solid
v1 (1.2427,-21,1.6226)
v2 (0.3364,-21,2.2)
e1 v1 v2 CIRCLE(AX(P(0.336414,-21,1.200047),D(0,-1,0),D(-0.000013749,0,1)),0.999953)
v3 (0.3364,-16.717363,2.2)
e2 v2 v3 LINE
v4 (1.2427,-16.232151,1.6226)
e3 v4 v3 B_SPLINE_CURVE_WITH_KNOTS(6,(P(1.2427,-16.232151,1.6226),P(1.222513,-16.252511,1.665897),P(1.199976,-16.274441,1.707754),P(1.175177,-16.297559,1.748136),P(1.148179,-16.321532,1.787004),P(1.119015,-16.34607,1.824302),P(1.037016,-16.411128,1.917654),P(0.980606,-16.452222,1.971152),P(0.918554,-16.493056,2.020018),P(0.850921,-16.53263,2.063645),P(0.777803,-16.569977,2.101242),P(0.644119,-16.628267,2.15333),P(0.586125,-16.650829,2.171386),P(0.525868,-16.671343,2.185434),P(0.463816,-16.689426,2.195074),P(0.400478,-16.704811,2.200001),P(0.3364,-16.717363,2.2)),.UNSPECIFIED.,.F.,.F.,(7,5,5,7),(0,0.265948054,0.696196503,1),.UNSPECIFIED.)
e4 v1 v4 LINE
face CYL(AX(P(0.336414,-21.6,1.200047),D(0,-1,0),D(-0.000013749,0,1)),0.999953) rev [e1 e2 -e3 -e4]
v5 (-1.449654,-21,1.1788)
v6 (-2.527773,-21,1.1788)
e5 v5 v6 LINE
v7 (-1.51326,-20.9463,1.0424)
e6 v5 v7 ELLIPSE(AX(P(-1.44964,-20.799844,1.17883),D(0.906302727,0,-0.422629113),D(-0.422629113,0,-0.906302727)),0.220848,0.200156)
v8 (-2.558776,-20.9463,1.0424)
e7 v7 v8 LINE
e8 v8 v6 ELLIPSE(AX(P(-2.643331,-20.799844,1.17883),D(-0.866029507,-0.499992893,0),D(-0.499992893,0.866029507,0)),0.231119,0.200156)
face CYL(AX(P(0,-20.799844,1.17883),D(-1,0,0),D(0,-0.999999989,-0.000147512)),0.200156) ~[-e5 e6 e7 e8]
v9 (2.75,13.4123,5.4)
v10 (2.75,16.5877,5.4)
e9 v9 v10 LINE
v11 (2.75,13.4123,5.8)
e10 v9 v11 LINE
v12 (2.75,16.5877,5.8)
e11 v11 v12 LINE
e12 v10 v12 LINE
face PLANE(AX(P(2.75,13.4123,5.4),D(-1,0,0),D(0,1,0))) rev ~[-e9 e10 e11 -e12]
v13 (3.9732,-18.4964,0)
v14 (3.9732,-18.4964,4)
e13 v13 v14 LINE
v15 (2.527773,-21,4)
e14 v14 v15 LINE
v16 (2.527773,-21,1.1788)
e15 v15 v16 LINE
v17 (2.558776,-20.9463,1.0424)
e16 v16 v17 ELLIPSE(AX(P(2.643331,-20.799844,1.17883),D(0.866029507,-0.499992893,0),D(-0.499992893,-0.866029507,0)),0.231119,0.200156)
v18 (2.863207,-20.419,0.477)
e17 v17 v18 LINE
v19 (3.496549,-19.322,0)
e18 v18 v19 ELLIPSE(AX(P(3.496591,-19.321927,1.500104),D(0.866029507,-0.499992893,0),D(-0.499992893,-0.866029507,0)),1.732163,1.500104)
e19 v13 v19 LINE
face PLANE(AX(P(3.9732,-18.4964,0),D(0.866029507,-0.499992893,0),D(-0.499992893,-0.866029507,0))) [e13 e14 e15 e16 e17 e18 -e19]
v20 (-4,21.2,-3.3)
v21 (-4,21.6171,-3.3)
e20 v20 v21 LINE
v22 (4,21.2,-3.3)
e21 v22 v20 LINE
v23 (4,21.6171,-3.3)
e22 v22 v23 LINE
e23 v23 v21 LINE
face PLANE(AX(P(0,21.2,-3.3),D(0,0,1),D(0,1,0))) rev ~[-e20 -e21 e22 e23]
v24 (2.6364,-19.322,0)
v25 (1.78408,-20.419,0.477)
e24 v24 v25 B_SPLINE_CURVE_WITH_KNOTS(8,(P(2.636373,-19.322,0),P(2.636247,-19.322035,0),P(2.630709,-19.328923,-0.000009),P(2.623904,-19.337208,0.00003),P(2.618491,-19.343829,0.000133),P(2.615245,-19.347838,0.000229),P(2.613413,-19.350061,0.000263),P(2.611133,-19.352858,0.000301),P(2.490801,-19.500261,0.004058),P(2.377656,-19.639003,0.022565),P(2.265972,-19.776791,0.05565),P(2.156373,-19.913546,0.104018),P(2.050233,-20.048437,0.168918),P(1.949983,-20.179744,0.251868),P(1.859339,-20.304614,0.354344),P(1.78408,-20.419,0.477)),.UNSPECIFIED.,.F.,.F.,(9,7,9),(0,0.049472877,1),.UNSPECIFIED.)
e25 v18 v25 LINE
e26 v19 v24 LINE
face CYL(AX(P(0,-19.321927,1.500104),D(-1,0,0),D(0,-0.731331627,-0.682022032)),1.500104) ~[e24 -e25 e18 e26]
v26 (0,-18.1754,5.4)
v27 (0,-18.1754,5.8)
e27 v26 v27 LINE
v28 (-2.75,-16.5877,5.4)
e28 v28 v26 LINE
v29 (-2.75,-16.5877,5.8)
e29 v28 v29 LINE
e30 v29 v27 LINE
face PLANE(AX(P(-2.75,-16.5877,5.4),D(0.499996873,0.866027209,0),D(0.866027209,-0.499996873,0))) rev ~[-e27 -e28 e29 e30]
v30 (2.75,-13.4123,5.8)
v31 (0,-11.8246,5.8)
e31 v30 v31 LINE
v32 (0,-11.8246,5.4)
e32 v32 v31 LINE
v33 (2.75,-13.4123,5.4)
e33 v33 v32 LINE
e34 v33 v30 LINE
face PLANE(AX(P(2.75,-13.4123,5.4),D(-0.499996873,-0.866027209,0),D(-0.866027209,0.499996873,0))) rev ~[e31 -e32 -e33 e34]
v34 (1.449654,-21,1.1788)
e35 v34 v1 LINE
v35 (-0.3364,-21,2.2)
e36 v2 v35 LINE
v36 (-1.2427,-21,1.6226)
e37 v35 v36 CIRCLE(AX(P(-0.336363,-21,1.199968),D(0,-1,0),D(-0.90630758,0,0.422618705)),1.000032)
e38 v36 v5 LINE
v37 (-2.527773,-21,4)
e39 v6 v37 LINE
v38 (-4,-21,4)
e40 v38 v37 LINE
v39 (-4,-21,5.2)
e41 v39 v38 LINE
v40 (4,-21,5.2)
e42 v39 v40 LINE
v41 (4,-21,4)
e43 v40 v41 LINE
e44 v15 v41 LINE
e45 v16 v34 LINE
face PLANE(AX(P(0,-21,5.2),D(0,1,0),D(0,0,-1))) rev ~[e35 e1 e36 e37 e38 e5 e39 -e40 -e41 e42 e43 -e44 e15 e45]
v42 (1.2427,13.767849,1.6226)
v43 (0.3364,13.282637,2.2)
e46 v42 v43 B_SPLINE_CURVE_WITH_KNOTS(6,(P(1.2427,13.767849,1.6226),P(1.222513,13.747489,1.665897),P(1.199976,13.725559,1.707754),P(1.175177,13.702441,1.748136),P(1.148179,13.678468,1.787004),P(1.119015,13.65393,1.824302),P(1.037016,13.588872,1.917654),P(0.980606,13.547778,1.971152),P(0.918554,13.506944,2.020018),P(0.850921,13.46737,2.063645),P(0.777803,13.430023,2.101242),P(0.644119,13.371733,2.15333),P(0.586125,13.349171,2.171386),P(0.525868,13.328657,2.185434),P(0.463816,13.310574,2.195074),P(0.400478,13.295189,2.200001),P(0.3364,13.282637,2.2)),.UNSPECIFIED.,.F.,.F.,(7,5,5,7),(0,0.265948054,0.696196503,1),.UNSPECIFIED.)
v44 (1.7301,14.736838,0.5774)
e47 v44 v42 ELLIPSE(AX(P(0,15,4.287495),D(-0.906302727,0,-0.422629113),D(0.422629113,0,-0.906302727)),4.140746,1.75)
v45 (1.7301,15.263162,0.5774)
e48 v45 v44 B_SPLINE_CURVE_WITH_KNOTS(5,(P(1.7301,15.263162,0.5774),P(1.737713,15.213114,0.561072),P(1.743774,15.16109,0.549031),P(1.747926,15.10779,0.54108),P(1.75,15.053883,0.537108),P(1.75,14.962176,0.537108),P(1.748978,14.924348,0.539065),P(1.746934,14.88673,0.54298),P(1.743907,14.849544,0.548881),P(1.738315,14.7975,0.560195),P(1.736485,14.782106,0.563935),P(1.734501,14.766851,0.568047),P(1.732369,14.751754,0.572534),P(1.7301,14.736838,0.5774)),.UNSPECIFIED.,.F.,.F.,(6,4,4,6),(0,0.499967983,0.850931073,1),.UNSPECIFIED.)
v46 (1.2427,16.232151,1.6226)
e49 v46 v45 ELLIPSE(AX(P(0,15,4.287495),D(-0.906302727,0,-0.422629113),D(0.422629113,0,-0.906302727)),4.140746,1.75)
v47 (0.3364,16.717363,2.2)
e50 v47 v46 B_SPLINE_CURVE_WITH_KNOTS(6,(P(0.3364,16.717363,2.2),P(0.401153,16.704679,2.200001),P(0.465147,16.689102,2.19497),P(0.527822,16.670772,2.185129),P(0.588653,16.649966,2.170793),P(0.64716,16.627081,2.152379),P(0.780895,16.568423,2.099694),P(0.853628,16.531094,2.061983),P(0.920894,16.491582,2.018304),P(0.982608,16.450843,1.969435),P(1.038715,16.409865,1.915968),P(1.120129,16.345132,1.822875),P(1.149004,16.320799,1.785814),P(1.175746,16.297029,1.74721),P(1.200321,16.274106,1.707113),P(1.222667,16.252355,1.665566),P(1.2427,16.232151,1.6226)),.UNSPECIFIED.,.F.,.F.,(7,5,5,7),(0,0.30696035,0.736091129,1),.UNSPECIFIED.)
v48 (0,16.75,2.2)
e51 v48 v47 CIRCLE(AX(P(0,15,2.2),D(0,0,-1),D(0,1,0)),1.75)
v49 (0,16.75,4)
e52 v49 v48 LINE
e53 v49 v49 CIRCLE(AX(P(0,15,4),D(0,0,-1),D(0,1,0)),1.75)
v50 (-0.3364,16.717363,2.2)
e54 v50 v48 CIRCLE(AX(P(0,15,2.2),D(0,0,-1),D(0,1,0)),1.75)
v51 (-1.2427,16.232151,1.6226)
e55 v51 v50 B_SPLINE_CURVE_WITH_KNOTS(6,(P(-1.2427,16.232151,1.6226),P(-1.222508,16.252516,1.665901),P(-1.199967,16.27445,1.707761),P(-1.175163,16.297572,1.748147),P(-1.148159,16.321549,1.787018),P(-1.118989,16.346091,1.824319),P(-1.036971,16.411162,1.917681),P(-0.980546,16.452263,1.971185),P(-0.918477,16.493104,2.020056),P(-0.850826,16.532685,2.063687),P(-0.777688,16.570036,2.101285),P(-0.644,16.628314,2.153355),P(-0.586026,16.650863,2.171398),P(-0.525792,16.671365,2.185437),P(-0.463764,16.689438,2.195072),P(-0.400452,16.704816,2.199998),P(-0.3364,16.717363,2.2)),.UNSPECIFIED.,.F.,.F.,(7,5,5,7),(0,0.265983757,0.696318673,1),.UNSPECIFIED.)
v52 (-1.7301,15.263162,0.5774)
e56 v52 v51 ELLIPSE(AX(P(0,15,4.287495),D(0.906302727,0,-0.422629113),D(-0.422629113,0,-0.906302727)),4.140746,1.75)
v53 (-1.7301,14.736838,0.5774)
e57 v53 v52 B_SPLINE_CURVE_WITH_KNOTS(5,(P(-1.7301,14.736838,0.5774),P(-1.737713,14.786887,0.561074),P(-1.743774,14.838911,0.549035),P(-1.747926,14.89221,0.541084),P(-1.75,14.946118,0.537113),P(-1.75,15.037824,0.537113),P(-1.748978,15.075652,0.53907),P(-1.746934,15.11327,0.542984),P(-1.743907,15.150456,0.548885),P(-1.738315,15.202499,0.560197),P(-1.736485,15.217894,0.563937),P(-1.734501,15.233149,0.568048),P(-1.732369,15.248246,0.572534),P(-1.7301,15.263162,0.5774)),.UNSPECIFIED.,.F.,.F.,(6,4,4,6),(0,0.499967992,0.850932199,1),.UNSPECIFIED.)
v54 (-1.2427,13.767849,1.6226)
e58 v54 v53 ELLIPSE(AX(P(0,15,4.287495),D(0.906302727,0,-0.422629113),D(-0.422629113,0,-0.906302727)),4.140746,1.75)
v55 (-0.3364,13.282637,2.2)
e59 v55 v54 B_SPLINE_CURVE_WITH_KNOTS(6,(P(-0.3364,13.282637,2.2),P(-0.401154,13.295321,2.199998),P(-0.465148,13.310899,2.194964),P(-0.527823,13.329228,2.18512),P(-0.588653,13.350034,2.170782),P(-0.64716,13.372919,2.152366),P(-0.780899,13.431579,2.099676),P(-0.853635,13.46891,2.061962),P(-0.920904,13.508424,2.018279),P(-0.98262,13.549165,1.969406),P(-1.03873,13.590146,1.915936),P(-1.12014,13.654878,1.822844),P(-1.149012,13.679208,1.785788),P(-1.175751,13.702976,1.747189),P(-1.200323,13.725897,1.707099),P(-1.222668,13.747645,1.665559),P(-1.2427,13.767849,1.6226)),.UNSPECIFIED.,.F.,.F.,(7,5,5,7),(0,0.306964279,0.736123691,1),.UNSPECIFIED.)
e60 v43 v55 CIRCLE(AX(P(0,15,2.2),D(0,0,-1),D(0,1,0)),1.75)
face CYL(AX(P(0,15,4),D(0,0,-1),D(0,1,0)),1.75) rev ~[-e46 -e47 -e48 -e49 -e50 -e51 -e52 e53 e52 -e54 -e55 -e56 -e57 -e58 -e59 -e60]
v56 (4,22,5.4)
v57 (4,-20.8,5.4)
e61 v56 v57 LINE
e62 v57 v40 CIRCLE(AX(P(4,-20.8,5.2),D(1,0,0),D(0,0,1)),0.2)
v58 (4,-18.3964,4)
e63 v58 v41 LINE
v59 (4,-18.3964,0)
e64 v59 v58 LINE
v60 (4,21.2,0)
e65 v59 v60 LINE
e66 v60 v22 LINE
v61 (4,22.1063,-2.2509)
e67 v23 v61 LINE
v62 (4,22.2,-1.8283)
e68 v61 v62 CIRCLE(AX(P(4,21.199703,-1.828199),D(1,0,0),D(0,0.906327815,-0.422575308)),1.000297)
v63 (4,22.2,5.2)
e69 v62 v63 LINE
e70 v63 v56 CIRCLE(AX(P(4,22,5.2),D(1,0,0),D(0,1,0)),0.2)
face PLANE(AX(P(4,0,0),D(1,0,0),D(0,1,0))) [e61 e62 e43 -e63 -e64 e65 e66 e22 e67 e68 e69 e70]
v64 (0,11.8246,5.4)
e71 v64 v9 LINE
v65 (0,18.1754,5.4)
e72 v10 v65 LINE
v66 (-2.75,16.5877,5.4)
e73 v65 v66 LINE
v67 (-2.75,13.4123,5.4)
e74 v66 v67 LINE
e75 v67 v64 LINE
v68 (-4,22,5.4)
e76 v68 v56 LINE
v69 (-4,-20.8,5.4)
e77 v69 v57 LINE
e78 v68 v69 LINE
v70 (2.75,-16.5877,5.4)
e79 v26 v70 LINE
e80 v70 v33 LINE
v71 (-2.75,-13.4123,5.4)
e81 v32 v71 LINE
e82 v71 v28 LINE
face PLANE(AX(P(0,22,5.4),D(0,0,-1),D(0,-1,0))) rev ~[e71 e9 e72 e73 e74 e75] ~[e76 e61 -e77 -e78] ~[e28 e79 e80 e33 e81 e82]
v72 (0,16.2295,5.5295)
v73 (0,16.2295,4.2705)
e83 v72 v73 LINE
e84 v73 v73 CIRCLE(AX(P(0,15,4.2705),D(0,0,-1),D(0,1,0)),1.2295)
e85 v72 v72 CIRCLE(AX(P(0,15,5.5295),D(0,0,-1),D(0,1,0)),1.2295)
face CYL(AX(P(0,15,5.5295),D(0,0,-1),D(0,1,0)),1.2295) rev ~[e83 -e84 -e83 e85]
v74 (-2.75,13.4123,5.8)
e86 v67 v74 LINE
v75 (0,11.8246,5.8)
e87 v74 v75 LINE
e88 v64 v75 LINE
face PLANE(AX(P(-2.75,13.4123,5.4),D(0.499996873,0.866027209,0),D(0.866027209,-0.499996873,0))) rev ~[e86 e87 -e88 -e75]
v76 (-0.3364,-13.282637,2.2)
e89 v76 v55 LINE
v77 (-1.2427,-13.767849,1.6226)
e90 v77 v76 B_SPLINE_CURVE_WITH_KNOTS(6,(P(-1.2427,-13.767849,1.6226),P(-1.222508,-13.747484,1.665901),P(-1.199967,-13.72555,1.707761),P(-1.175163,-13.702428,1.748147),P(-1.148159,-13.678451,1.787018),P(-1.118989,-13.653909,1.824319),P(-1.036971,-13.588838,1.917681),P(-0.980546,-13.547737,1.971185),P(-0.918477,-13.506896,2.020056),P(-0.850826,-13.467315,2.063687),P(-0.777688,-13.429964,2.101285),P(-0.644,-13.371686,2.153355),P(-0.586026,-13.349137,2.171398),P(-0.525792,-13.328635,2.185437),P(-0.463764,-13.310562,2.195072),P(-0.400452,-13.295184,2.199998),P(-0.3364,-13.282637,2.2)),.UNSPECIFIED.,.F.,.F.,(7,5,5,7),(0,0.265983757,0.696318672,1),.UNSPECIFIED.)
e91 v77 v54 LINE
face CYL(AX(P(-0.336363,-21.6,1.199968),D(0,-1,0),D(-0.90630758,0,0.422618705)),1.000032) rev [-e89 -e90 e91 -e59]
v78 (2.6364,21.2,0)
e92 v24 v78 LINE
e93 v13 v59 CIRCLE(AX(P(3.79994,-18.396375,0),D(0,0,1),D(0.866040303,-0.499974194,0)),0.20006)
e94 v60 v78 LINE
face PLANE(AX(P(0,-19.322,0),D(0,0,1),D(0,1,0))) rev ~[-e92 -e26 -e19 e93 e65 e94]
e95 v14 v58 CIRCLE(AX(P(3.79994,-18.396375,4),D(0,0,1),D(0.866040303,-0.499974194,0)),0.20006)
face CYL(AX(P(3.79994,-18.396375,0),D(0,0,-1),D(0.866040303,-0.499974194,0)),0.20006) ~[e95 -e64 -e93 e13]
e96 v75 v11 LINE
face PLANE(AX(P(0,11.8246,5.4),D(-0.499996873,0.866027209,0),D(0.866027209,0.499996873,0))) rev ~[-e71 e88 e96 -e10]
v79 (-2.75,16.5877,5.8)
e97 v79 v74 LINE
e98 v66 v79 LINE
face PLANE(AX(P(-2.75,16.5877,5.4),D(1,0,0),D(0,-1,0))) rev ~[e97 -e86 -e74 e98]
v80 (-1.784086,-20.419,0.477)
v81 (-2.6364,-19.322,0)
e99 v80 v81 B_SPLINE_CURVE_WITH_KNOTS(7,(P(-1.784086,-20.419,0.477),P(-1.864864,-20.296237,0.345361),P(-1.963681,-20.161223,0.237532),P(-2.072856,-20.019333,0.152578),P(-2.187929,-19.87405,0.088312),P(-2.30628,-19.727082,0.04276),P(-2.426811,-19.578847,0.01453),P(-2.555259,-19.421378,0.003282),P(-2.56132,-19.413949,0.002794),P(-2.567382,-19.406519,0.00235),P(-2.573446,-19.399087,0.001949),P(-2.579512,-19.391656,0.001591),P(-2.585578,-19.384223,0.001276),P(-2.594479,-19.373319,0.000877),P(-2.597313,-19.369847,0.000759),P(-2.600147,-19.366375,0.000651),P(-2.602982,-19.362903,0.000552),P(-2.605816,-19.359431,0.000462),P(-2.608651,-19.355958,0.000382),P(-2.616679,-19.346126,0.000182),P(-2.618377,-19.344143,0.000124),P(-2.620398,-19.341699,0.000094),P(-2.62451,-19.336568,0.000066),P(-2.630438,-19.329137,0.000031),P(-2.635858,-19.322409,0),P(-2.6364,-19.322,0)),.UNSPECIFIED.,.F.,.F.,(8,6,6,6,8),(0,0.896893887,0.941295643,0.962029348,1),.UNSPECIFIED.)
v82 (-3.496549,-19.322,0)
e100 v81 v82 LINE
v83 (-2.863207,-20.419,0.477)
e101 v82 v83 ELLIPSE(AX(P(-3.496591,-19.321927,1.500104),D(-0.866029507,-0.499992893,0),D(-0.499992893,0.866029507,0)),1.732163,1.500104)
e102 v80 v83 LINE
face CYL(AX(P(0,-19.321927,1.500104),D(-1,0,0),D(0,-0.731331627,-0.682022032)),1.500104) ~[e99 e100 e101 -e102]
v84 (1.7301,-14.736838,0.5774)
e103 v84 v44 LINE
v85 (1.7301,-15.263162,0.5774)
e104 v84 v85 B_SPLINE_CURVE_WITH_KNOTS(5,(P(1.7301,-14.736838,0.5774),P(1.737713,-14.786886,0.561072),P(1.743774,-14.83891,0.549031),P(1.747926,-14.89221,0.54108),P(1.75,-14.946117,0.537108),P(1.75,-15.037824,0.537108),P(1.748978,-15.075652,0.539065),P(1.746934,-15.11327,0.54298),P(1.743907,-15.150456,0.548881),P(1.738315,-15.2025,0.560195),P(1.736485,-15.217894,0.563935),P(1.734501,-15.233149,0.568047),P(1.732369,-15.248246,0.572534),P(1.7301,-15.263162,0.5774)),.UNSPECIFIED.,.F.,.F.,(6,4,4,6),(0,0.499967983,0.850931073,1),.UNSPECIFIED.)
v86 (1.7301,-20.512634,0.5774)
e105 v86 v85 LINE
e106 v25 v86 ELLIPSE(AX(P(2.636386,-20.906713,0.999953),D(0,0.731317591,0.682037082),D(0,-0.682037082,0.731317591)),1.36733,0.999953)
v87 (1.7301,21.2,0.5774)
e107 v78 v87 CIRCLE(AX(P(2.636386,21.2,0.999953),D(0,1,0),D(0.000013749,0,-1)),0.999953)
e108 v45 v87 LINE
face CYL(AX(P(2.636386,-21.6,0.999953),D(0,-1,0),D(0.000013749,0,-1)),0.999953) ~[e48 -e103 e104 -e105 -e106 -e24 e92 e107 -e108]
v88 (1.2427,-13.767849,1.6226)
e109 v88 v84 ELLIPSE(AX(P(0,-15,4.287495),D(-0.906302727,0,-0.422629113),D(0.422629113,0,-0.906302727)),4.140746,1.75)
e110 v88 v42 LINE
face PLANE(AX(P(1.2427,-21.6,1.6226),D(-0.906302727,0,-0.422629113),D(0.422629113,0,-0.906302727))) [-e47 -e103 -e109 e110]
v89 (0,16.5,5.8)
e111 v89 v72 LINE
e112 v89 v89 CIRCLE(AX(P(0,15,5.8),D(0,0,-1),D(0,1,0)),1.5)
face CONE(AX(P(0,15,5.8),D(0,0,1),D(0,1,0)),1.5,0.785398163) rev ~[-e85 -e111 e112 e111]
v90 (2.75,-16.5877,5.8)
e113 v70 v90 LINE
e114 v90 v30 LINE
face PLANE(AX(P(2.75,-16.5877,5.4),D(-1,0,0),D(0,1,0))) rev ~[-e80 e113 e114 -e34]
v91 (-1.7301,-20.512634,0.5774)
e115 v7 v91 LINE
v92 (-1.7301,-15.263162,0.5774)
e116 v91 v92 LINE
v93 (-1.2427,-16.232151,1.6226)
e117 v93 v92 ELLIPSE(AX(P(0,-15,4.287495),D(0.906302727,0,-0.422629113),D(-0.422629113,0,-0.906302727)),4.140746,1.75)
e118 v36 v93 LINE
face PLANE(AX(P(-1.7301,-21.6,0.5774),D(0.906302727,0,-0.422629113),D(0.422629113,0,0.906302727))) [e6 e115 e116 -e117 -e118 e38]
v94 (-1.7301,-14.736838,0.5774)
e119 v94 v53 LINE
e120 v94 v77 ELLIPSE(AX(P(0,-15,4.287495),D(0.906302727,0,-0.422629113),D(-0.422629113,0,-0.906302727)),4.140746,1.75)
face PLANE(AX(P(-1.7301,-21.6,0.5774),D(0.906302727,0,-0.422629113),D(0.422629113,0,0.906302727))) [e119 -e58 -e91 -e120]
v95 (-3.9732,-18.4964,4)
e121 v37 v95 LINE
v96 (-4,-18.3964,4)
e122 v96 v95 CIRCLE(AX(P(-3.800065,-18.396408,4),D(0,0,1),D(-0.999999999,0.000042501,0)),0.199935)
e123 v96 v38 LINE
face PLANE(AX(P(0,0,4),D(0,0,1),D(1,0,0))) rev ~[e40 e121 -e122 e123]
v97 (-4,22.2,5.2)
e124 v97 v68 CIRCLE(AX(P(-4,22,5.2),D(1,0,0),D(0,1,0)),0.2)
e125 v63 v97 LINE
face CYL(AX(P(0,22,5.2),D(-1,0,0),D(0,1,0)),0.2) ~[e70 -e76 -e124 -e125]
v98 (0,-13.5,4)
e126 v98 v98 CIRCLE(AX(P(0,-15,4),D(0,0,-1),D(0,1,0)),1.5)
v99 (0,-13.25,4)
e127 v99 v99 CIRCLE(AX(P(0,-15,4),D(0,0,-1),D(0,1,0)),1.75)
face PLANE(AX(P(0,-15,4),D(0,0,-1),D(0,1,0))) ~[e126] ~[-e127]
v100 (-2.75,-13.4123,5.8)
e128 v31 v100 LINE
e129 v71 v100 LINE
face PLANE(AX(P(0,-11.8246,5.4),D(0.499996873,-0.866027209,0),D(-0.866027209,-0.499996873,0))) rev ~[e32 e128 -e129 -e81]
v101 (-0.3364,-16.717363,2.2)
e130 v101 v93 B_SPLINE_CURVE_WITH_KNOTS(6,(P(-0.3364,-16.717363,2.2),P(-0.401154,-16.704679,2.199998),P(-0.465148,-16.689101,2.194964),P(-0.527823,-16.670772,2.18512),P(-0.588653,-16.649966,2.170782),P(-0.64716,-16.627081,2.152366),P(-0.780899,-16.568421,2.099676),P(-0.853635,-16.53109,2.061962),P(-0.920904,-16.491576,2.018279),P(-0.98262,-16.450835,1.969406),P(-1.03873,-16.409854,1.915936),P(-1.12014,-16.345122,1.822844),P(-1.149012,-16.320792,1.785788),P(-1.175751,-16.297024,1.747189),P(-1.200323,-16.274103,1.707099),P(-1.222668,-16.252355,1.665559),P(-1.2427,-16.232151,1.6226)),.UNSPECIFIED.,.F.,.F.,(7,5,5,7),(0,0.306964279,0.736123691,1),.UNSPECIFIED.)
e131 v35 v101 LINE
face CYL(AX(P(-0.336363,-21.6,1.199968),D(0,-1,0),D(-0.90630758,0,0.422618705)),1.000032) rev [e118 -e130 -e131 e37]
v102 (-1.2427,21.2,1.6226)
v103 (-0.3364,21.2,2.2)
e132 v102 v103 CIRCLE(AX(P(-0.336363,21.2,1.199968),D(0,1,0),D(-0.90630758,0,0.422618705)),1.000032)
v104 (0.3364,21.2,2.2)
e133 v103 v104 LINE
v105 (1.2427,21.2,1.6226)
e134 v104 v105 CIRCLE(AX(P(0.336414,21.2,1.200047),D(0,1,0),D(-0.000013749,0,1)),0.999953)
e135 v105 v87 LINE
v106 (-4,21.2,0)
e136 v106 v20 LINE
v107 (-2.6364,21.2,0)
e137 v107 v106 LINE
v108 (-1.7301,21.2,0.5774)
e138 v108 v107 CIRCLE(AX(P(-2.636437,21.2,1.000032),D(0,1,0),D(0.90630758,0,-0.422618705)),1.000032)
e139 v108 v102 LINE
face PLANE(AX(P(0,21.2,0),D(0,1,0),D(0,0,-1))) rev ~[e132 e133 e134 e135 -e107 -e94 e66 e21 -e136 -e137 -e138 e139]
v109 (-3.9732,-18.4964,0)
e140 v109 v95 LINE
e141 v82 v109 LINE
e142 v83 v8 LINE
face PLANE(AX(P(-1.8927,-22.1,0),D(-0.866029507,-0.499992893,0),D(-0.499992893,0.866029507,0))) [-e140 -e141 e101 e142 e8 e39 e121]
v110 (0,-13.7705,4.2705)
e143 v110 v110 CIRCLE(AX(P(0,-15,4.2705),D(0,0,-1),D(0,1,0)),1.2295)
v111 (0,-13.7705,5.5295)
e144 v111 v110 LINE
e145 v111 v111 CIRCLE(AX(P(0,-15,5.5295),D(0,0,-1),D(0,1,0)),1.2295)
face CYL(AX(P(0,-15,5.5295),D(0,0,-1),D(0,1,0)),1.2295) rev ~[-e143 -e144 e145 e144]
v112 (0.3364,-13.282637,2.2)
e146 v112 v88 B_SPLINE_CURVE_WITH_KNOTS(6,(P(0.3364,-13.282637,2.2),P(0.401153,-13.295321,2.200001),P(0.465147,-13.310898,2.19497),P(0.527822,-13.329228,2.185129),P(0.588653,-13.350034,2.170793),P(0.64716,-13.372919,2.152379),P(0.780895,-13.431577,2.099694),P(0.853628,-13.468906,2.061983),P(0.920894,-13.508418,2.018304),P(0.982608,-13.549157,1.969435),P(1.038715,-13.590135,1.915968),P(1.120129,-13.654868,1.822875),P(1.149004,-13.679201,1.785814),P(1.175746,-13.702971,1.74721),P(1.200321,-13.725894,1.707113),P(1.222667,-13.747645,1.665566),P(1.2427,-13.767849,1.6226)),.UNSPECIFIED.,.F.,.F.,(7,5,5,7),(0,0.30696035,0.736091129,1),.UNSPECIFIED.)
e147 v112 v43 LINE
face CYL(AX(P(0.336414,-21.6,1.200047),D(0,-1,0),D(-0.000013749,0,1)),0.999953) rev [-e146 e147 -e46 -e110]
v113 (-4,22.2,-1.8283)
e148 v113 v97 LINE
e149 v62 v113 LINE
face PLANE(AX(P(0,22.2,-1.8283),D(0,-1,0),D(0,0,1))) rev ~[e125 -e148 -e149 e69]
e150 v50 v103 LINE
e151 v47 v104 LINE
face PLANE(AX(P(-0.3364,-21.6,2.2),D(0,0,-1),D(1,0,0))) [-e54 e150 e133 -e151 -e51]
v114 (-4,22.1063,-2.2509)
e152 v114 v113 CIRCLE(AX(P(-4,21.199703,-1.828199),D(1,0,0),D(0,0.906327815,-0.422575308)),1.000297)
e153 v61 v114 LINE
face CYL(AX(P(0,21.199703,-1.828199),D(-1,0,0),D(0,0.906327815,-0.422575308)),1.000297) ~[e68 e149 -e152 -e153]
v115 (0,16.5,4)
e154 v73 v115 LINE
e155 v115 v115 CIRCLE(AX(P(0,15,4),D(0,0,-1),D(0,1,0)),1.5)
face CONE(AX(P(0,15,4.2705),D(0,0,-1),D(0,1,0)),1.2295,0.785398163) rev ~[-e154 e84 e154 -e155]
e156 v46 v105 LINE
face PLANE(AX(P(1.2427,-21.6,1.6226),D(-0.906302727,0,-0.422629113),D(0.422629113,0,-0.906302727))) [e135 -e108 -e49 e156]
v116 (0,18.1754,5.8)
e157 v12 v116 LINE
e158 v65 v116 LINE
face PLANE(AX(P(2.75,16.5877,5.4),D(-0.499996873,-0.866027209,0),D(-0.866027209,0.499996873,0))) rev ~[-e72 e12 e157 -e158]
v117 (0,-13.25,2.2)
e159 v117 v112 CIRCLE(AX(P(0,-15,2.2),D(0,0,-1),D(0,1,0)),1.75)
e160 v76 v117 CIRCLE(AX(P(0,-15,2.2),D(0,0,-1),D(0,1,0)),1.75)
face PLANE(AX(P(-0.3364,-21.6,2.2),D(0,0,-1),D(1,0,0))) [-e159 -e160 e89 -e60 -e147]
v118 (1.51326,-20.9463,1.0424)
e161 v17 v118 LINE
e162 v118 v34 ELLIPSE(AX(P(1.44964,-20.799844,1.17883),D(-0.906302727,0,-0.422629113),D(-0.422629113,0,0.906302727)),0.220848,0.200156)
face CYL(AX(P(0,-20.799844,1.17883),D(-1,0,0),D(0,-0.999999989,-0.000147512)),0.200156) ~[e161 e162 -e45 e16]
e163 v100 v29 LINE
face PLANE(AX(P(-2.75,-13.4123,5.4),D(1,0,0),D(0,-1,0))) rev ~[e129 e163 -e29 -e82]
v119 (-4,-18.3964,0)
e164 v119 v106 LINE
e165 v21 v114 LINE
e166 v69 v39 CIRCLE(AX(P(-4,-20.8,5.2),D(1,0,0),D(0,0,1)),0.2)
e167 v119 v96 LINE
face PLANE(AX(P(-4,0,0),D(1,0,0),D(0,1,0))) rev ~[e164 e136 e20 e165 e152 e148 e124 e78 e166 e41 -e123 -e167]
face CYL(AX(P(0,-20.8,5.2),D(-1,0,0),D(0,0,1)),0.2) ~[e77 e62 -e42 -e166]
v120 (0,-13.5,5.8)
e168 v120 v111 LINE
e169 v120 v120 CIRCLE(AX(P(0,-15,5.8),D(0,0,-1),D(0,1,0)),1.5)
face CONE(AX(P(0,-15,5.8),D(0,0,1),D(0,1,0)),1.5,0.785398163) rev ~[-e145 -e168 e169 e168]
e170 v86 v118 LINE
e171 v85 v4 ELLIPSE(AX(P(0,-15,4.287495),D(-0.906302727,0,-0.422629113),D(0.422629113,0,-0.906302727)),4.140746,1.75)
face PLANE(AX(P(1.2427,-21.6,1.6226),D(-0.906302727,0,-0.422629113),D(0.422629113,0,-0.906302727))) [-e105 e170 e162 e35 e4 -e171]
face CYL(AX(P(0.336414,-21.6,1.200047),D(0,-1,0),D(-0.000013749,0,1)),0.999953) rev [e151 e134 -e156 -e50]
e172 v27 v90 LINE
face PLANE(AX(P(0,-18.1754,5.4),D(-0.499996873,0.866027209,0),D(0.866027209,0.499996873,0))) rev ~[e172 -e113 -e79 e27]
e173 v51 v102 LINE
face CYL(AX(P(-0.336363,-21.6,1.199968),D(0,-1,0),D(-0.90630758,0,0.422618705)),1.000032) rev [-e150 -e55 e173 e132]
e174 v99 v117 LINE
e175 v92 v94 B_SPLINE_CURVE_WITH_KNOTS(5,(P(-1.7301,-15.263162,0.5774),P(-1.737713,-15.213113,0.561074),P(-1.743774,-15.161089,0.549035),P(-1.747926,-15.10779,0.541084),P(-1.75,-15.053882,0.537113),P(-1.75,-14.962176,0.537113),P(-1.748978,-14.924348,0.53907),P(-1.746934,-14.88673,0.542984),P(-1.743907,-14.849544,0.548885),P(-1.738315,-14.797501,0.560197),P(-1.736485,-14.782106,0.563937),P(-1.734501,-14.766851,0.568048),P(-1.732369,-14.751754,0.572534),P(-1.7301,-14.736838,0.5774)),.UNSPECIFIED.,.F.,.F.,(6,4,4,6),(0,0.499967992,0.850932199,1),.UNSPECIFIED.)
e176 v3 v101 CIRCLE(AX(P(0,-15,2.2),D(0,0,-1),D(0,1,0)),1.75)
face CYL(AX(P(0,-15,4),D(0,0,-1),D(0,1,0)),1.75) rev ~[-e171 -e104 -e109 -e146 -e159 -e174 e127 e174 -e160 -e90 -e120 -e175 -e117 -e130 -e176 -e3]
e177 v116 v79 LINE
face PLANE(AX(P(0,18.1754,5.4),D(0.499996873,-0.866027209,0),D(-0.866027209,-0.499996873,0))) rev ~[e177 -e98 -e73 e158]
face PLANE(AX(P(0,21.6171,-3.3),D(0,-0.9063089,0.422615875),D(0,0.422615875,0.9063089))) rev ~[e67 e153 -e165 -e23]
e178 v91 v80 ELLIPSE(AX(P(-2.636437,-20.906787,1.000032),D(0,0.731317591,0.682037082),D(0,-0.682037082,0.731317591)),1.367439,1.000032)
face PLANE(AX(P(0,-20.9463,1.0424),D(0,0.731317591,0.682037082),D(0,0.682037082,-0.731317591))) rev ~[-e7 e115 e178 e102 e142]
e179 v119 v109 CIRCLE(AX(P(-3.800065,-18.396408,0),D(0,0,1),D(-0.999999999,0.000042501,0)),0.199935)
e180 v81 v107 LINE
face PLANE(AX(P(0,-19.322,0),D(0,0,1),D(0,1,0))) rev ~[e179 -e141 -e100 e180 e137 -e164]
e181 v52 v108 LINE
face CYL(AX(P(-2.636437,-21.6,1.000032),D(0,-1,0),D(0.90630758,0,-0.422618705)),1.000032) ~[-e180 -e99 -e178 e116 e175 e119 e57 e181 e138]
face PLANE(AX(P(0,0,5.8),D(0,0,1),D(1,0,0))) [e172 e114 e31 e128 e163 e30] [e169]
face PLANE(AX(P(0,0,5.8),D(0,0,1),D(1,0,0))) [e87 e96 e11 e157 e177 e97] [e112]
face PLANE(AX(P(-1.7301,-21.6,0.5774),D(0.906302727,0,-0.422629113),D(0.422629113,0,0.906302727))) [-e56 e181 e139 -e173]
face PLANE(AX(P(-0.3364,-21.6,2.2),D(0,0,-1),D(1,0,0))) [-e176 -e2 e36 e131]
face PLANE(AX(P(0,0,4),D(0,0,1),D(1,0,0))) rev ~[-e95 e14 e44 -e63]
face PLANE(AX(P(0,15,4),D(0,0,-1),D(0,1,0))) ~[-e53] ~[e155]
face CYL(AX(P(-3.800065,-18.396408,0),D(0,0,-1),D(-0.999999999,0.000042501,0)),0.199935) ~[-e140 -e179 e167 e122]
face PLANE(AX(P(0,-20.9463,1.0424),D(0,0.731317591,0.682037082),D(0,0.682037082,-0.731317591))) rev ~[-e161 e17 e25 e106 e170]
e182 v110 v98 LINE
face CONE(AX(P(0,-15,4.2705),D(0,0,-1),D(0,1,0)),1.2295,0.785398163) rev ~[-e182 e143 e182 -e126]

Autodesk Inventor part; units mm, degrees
sketch "Sketch_1" plane through (0, 0, 0) normal (1, 0, 0) x (0, 1, 0)
  line L0 (22, 5.4) -> (-20.8, 5.4)
  arc A0 (-20.8, 5.4) -> (-21, 5.2) centre (-20.8, 5.2) ccw
  line L1 (-21, 5.2) -> (-21, 1.1788)
  arc A1 (-21, 1.1788) -> (-20.9463, 1.0424) centre (-20.8, 1.1788) ccw
  line L2 (-20.9463, 1.0424) -> (-20.419, 0.477)
  arc A2 (-20.419, 0.477) -> (-19.322, 0) centre (-19.322, 1.5) ccw
  line L3 (-19.322, 0) -> (21.2, 0)
  line L4 (21.2, 0) -> (21.2, -3.3)
  line L5 (21.2, -3.3) -> (21.6171, -3.3)
  line L6 (21.6171, -3.3) -> (22.1063, -2.2509)
  arc A3 (22.1063, -2.2509) -> (22.2, -1.8283) centre (21.2, -1.8283) ccw
  line L7 (22.2, -1.8283) -> (22.2, 5.2)
  arc A4 (22.2, 5.2) -> (22, 5.4) centre (22, 5.2) ccw
extrude "Extrusion1" add sketch "Sketch_1" along normal mid plane 8
sketch "Sketch_6" plane through (0, -21.6, 0) normal (0, 1, 0) x (1, 0, 0)
  arc A0 (-1.7301, -0.5774) -> (-2.6364, 0) centre (-2.6364, -1) ccw
  line L0 (-1.7301, -0.5774) -> (-1.2427, -1.6226)
  arc A1 (-1.2427, -1.6226) -> (-0.3364, -2.2) centre (-0.3364, -1.2) ccw
  line L1 (-0.3364, -2.2) -> (0.3364, -2.2)
  arc A2 (0.3364, -2.2) -> (1.2427, -1.6226) centre (0.3364, -1.2) ccw
  line L2 (1.2427, -1.6226) -> (1.7301, -0.5774)
  arc A3 (2.6364, 0) -> (1.7301, -0.5774) centre (2.6364, -1) ccw
  line L3 (2.6364, 0) -> (-2.6364, 0)
extrude "Extrusion2" cut sketch "Sketch_6" along normal blind 42.8
sketch "Sketch_9" plane through (0, 0, 0) normal (0, 0, 1) x (1, 0, 0)
  line L0 (-5, -18.3964) -> (-5, -23.2)
  line L1 (-5, -23.2) -> (5, -23.2)
  line L2 (5, -23.2) -> (5, -18.3964)
  line L3 (5, -18.3964) -> (4, -18.3964)
  arc A0 (3.9732, -18.4964) -> (4, -18.3964) centre (3.8, -18.3964) ccw
  line L4 (3.9732, -18.4964) -> (1.8927, -22.1)
  arc A1 (1.7195, -22.2) -> (1.8927, -22.1) centre (1.7195, -22) ccw
  line L5 (1.7195, -22.2) -> (-1.7195, -22.2)
  arc A2 (-1.8927, -22.1) -> (-1.7195, -22.2) centre (-1.7195, -22) ccw
  line L6 (-1.8927, -22.1) -> (-3.9732, -18.4964)
  arc A3 (-4, -18.3964) -> (-3.9732, -18.4964) centre (-3.8, -18.3964) ccw
  line L7 (-4, -18.3964) -> (-5, -18.3964)
extrude "Extrusion3" cut sketch "Sketch_9" along normal blind 4
sketch "Sketch_11" plane through (0, 0, 5.4) normal (0, 0, 1) x (1, 0, 0)
  line L0 (-2.75, 13.4123) -> (0, 11.8246)
  line L1 (0, 11.8246) -> (2.75, 13.4123)
  line L2 (2.75, 13.4123) -> (2.75, 16.5877)
  line L3 (2.75, 16.5877) -> (0, 18.1754)
  line L4 (0, 18.1754) -> (-2.75, 16.5877)
  line L5 (-2.75, 16.5877) -> (-2.75, 13.4123)
sketch "Sketch_12" plane through (0, 0, 5.4) normal (0, 0, 1) x (1, 0, 0)
  line L0 (-2.75, -16.5877) -> (0, -18.1754)
  line L1 (0, -18.1754) -> (2.75, -16.5877)
  line L2 (2.75, -16.5877) -> (2.75, -13.4123)
  line L3 (2.75, -13.4123) -> (0, -11.8246)
  line L4 (0, -11.8246) -> (-2.75, -13.4123)
  line L5 (-2.75, -13.4123) -> (-2.75, -16.5877)
extrude "Extrusion4" add sketch "Sketch_12" along normal blind 0.4
extrude "Extrusion5" add sketch "Sketch_11" along normal blind 0.4
sketch "Sketch_10" plane through (0, 0, 0) normal (1, 0, 0) x (0, 1, 0)
  line L0 (15, 0) -> (15, 5.8)
  line L1 (15, 5.8) -> (16.5, 5.8)
  line L2 (16.5, 5.8) -> (16.2295, 5.5295)
  line L3 (16.2295, 5.5295) -> (16.2295, 4.2705)
  line L4 (16.2295, 4.2705) -> (16.5, 4)
  line L5 (16.5, 4) -> (16.75, 4)
  line L6 (16.75, 4) -> (16.75, 0)
  line L7 (16.75, 0) -> (15, 0)
  line L8 (15, 0) -> (15, 5.8)
revolve "Revolution1" cut sketch "Sketch_10" angle 360 about axis through (0, 15, 0) along (0, 0, -1)
thread "Thread1" size "M3x0.5" class "6H" standard "ISO Metric profile" full length
sketch "Sketch_13" plane through (0, 0, 0) normal (1, 0, 0) x (0, 1, 0)
  line L0 (-15, 0) -> (-15, 5.8)
  line L1 (-15, 5.8) -> (-13.5, 5.8)
  line L2 (-13.5, 5.8) -> (-13.7705, 5.5295)
  line L3 (-13.7705, 5.5295) -> (-13.7705, 4.2705)
  line L4 (-13.7705, 4.2705) -> (-13.5, 4)
  line L5 (-13.5, 4) -> (-13.25, 4)
  line L6 (-13.25, 4) -> (-13.25, 0)
  line L7 (-13.25, 0) -> (-15, 0)
  line L8 (-15, 0) -> (-15, 5.8)
revolve "Revolution2" cut sketch "Sketch_13" angle 360 about axis through (0, -15, 0) along (0, 0, -1)
thread "Thread2" size "M3x0.5" class "6H" standard "ISO Metric profile" full length
ref_plane "ANBAU_XY" through (0, 0, -15.2) normal (0, -1, 0) x (1, 0, 0)
ref_plane "ANBAU_YZ" through (0, 0, -15.2) normal (1, 0, 0) x (0, 0, 1)
ref_plane "ANBAU_ZX" through (0, 0, -15.2) normal (0, 0, 1) x (0, -1, 0)
ref_plane "ANBAU_2_XY" through (0, 0, -15.2) normal (1, 0, 0) x (0, 0, -1)
ref_plane "ANBAU_2_YZ" through (0, 0, -15.2) normal (0, 0, -1) x (0, 1, 0)
ref_plane "ANBAU_2_ZX" through (0, 0, -15.2) normal (0, 1, 0) x (1, 0, 0)
ref_plane "IP1_XY" through (0, 0, 5.4) normal (0, 0, -1) x (1, 0, 0)
ref_plane "IP1_YZ" through (0, 0, 5.4) normal (1, 0, 0) x (0, -1, 0)
ref_plane "IP1_ZX" through (0, 0, 5.4) normal (0, -1, 0) x (0, 0, -1)
ref_plane "IP_ANBAU_XY" through (0, 0, 0) normal (0, 0, -1) x (1, 0, 0)
ref_plane "IP_ANBAU_YZ" through (0, 0, 0) normal (1, 0, 0) x (0, -1, 0)
ref_plane "IP_ANBAU_ZX" through (0, 0, 0) normal (0, -1, 0) x (0, 0, -1)
ref_plane "IP_ANBAU_2_XY" through (0, 0, -15.2) normal (1, 0, 0) x (0, 0, -1)
ref_plane "IP_ANBAU_2_YZ" through (0, 0, -15.2) normal (0, 0, -1) x (0, 1, 0)
ref_plane "IP_ANBAU_2_ZX" through (0, 0, -15.2) normal (0, 1, 0) x (1, 0, 0)
properties part number "8116179 MS4-MV-B---(0_high_m)"
